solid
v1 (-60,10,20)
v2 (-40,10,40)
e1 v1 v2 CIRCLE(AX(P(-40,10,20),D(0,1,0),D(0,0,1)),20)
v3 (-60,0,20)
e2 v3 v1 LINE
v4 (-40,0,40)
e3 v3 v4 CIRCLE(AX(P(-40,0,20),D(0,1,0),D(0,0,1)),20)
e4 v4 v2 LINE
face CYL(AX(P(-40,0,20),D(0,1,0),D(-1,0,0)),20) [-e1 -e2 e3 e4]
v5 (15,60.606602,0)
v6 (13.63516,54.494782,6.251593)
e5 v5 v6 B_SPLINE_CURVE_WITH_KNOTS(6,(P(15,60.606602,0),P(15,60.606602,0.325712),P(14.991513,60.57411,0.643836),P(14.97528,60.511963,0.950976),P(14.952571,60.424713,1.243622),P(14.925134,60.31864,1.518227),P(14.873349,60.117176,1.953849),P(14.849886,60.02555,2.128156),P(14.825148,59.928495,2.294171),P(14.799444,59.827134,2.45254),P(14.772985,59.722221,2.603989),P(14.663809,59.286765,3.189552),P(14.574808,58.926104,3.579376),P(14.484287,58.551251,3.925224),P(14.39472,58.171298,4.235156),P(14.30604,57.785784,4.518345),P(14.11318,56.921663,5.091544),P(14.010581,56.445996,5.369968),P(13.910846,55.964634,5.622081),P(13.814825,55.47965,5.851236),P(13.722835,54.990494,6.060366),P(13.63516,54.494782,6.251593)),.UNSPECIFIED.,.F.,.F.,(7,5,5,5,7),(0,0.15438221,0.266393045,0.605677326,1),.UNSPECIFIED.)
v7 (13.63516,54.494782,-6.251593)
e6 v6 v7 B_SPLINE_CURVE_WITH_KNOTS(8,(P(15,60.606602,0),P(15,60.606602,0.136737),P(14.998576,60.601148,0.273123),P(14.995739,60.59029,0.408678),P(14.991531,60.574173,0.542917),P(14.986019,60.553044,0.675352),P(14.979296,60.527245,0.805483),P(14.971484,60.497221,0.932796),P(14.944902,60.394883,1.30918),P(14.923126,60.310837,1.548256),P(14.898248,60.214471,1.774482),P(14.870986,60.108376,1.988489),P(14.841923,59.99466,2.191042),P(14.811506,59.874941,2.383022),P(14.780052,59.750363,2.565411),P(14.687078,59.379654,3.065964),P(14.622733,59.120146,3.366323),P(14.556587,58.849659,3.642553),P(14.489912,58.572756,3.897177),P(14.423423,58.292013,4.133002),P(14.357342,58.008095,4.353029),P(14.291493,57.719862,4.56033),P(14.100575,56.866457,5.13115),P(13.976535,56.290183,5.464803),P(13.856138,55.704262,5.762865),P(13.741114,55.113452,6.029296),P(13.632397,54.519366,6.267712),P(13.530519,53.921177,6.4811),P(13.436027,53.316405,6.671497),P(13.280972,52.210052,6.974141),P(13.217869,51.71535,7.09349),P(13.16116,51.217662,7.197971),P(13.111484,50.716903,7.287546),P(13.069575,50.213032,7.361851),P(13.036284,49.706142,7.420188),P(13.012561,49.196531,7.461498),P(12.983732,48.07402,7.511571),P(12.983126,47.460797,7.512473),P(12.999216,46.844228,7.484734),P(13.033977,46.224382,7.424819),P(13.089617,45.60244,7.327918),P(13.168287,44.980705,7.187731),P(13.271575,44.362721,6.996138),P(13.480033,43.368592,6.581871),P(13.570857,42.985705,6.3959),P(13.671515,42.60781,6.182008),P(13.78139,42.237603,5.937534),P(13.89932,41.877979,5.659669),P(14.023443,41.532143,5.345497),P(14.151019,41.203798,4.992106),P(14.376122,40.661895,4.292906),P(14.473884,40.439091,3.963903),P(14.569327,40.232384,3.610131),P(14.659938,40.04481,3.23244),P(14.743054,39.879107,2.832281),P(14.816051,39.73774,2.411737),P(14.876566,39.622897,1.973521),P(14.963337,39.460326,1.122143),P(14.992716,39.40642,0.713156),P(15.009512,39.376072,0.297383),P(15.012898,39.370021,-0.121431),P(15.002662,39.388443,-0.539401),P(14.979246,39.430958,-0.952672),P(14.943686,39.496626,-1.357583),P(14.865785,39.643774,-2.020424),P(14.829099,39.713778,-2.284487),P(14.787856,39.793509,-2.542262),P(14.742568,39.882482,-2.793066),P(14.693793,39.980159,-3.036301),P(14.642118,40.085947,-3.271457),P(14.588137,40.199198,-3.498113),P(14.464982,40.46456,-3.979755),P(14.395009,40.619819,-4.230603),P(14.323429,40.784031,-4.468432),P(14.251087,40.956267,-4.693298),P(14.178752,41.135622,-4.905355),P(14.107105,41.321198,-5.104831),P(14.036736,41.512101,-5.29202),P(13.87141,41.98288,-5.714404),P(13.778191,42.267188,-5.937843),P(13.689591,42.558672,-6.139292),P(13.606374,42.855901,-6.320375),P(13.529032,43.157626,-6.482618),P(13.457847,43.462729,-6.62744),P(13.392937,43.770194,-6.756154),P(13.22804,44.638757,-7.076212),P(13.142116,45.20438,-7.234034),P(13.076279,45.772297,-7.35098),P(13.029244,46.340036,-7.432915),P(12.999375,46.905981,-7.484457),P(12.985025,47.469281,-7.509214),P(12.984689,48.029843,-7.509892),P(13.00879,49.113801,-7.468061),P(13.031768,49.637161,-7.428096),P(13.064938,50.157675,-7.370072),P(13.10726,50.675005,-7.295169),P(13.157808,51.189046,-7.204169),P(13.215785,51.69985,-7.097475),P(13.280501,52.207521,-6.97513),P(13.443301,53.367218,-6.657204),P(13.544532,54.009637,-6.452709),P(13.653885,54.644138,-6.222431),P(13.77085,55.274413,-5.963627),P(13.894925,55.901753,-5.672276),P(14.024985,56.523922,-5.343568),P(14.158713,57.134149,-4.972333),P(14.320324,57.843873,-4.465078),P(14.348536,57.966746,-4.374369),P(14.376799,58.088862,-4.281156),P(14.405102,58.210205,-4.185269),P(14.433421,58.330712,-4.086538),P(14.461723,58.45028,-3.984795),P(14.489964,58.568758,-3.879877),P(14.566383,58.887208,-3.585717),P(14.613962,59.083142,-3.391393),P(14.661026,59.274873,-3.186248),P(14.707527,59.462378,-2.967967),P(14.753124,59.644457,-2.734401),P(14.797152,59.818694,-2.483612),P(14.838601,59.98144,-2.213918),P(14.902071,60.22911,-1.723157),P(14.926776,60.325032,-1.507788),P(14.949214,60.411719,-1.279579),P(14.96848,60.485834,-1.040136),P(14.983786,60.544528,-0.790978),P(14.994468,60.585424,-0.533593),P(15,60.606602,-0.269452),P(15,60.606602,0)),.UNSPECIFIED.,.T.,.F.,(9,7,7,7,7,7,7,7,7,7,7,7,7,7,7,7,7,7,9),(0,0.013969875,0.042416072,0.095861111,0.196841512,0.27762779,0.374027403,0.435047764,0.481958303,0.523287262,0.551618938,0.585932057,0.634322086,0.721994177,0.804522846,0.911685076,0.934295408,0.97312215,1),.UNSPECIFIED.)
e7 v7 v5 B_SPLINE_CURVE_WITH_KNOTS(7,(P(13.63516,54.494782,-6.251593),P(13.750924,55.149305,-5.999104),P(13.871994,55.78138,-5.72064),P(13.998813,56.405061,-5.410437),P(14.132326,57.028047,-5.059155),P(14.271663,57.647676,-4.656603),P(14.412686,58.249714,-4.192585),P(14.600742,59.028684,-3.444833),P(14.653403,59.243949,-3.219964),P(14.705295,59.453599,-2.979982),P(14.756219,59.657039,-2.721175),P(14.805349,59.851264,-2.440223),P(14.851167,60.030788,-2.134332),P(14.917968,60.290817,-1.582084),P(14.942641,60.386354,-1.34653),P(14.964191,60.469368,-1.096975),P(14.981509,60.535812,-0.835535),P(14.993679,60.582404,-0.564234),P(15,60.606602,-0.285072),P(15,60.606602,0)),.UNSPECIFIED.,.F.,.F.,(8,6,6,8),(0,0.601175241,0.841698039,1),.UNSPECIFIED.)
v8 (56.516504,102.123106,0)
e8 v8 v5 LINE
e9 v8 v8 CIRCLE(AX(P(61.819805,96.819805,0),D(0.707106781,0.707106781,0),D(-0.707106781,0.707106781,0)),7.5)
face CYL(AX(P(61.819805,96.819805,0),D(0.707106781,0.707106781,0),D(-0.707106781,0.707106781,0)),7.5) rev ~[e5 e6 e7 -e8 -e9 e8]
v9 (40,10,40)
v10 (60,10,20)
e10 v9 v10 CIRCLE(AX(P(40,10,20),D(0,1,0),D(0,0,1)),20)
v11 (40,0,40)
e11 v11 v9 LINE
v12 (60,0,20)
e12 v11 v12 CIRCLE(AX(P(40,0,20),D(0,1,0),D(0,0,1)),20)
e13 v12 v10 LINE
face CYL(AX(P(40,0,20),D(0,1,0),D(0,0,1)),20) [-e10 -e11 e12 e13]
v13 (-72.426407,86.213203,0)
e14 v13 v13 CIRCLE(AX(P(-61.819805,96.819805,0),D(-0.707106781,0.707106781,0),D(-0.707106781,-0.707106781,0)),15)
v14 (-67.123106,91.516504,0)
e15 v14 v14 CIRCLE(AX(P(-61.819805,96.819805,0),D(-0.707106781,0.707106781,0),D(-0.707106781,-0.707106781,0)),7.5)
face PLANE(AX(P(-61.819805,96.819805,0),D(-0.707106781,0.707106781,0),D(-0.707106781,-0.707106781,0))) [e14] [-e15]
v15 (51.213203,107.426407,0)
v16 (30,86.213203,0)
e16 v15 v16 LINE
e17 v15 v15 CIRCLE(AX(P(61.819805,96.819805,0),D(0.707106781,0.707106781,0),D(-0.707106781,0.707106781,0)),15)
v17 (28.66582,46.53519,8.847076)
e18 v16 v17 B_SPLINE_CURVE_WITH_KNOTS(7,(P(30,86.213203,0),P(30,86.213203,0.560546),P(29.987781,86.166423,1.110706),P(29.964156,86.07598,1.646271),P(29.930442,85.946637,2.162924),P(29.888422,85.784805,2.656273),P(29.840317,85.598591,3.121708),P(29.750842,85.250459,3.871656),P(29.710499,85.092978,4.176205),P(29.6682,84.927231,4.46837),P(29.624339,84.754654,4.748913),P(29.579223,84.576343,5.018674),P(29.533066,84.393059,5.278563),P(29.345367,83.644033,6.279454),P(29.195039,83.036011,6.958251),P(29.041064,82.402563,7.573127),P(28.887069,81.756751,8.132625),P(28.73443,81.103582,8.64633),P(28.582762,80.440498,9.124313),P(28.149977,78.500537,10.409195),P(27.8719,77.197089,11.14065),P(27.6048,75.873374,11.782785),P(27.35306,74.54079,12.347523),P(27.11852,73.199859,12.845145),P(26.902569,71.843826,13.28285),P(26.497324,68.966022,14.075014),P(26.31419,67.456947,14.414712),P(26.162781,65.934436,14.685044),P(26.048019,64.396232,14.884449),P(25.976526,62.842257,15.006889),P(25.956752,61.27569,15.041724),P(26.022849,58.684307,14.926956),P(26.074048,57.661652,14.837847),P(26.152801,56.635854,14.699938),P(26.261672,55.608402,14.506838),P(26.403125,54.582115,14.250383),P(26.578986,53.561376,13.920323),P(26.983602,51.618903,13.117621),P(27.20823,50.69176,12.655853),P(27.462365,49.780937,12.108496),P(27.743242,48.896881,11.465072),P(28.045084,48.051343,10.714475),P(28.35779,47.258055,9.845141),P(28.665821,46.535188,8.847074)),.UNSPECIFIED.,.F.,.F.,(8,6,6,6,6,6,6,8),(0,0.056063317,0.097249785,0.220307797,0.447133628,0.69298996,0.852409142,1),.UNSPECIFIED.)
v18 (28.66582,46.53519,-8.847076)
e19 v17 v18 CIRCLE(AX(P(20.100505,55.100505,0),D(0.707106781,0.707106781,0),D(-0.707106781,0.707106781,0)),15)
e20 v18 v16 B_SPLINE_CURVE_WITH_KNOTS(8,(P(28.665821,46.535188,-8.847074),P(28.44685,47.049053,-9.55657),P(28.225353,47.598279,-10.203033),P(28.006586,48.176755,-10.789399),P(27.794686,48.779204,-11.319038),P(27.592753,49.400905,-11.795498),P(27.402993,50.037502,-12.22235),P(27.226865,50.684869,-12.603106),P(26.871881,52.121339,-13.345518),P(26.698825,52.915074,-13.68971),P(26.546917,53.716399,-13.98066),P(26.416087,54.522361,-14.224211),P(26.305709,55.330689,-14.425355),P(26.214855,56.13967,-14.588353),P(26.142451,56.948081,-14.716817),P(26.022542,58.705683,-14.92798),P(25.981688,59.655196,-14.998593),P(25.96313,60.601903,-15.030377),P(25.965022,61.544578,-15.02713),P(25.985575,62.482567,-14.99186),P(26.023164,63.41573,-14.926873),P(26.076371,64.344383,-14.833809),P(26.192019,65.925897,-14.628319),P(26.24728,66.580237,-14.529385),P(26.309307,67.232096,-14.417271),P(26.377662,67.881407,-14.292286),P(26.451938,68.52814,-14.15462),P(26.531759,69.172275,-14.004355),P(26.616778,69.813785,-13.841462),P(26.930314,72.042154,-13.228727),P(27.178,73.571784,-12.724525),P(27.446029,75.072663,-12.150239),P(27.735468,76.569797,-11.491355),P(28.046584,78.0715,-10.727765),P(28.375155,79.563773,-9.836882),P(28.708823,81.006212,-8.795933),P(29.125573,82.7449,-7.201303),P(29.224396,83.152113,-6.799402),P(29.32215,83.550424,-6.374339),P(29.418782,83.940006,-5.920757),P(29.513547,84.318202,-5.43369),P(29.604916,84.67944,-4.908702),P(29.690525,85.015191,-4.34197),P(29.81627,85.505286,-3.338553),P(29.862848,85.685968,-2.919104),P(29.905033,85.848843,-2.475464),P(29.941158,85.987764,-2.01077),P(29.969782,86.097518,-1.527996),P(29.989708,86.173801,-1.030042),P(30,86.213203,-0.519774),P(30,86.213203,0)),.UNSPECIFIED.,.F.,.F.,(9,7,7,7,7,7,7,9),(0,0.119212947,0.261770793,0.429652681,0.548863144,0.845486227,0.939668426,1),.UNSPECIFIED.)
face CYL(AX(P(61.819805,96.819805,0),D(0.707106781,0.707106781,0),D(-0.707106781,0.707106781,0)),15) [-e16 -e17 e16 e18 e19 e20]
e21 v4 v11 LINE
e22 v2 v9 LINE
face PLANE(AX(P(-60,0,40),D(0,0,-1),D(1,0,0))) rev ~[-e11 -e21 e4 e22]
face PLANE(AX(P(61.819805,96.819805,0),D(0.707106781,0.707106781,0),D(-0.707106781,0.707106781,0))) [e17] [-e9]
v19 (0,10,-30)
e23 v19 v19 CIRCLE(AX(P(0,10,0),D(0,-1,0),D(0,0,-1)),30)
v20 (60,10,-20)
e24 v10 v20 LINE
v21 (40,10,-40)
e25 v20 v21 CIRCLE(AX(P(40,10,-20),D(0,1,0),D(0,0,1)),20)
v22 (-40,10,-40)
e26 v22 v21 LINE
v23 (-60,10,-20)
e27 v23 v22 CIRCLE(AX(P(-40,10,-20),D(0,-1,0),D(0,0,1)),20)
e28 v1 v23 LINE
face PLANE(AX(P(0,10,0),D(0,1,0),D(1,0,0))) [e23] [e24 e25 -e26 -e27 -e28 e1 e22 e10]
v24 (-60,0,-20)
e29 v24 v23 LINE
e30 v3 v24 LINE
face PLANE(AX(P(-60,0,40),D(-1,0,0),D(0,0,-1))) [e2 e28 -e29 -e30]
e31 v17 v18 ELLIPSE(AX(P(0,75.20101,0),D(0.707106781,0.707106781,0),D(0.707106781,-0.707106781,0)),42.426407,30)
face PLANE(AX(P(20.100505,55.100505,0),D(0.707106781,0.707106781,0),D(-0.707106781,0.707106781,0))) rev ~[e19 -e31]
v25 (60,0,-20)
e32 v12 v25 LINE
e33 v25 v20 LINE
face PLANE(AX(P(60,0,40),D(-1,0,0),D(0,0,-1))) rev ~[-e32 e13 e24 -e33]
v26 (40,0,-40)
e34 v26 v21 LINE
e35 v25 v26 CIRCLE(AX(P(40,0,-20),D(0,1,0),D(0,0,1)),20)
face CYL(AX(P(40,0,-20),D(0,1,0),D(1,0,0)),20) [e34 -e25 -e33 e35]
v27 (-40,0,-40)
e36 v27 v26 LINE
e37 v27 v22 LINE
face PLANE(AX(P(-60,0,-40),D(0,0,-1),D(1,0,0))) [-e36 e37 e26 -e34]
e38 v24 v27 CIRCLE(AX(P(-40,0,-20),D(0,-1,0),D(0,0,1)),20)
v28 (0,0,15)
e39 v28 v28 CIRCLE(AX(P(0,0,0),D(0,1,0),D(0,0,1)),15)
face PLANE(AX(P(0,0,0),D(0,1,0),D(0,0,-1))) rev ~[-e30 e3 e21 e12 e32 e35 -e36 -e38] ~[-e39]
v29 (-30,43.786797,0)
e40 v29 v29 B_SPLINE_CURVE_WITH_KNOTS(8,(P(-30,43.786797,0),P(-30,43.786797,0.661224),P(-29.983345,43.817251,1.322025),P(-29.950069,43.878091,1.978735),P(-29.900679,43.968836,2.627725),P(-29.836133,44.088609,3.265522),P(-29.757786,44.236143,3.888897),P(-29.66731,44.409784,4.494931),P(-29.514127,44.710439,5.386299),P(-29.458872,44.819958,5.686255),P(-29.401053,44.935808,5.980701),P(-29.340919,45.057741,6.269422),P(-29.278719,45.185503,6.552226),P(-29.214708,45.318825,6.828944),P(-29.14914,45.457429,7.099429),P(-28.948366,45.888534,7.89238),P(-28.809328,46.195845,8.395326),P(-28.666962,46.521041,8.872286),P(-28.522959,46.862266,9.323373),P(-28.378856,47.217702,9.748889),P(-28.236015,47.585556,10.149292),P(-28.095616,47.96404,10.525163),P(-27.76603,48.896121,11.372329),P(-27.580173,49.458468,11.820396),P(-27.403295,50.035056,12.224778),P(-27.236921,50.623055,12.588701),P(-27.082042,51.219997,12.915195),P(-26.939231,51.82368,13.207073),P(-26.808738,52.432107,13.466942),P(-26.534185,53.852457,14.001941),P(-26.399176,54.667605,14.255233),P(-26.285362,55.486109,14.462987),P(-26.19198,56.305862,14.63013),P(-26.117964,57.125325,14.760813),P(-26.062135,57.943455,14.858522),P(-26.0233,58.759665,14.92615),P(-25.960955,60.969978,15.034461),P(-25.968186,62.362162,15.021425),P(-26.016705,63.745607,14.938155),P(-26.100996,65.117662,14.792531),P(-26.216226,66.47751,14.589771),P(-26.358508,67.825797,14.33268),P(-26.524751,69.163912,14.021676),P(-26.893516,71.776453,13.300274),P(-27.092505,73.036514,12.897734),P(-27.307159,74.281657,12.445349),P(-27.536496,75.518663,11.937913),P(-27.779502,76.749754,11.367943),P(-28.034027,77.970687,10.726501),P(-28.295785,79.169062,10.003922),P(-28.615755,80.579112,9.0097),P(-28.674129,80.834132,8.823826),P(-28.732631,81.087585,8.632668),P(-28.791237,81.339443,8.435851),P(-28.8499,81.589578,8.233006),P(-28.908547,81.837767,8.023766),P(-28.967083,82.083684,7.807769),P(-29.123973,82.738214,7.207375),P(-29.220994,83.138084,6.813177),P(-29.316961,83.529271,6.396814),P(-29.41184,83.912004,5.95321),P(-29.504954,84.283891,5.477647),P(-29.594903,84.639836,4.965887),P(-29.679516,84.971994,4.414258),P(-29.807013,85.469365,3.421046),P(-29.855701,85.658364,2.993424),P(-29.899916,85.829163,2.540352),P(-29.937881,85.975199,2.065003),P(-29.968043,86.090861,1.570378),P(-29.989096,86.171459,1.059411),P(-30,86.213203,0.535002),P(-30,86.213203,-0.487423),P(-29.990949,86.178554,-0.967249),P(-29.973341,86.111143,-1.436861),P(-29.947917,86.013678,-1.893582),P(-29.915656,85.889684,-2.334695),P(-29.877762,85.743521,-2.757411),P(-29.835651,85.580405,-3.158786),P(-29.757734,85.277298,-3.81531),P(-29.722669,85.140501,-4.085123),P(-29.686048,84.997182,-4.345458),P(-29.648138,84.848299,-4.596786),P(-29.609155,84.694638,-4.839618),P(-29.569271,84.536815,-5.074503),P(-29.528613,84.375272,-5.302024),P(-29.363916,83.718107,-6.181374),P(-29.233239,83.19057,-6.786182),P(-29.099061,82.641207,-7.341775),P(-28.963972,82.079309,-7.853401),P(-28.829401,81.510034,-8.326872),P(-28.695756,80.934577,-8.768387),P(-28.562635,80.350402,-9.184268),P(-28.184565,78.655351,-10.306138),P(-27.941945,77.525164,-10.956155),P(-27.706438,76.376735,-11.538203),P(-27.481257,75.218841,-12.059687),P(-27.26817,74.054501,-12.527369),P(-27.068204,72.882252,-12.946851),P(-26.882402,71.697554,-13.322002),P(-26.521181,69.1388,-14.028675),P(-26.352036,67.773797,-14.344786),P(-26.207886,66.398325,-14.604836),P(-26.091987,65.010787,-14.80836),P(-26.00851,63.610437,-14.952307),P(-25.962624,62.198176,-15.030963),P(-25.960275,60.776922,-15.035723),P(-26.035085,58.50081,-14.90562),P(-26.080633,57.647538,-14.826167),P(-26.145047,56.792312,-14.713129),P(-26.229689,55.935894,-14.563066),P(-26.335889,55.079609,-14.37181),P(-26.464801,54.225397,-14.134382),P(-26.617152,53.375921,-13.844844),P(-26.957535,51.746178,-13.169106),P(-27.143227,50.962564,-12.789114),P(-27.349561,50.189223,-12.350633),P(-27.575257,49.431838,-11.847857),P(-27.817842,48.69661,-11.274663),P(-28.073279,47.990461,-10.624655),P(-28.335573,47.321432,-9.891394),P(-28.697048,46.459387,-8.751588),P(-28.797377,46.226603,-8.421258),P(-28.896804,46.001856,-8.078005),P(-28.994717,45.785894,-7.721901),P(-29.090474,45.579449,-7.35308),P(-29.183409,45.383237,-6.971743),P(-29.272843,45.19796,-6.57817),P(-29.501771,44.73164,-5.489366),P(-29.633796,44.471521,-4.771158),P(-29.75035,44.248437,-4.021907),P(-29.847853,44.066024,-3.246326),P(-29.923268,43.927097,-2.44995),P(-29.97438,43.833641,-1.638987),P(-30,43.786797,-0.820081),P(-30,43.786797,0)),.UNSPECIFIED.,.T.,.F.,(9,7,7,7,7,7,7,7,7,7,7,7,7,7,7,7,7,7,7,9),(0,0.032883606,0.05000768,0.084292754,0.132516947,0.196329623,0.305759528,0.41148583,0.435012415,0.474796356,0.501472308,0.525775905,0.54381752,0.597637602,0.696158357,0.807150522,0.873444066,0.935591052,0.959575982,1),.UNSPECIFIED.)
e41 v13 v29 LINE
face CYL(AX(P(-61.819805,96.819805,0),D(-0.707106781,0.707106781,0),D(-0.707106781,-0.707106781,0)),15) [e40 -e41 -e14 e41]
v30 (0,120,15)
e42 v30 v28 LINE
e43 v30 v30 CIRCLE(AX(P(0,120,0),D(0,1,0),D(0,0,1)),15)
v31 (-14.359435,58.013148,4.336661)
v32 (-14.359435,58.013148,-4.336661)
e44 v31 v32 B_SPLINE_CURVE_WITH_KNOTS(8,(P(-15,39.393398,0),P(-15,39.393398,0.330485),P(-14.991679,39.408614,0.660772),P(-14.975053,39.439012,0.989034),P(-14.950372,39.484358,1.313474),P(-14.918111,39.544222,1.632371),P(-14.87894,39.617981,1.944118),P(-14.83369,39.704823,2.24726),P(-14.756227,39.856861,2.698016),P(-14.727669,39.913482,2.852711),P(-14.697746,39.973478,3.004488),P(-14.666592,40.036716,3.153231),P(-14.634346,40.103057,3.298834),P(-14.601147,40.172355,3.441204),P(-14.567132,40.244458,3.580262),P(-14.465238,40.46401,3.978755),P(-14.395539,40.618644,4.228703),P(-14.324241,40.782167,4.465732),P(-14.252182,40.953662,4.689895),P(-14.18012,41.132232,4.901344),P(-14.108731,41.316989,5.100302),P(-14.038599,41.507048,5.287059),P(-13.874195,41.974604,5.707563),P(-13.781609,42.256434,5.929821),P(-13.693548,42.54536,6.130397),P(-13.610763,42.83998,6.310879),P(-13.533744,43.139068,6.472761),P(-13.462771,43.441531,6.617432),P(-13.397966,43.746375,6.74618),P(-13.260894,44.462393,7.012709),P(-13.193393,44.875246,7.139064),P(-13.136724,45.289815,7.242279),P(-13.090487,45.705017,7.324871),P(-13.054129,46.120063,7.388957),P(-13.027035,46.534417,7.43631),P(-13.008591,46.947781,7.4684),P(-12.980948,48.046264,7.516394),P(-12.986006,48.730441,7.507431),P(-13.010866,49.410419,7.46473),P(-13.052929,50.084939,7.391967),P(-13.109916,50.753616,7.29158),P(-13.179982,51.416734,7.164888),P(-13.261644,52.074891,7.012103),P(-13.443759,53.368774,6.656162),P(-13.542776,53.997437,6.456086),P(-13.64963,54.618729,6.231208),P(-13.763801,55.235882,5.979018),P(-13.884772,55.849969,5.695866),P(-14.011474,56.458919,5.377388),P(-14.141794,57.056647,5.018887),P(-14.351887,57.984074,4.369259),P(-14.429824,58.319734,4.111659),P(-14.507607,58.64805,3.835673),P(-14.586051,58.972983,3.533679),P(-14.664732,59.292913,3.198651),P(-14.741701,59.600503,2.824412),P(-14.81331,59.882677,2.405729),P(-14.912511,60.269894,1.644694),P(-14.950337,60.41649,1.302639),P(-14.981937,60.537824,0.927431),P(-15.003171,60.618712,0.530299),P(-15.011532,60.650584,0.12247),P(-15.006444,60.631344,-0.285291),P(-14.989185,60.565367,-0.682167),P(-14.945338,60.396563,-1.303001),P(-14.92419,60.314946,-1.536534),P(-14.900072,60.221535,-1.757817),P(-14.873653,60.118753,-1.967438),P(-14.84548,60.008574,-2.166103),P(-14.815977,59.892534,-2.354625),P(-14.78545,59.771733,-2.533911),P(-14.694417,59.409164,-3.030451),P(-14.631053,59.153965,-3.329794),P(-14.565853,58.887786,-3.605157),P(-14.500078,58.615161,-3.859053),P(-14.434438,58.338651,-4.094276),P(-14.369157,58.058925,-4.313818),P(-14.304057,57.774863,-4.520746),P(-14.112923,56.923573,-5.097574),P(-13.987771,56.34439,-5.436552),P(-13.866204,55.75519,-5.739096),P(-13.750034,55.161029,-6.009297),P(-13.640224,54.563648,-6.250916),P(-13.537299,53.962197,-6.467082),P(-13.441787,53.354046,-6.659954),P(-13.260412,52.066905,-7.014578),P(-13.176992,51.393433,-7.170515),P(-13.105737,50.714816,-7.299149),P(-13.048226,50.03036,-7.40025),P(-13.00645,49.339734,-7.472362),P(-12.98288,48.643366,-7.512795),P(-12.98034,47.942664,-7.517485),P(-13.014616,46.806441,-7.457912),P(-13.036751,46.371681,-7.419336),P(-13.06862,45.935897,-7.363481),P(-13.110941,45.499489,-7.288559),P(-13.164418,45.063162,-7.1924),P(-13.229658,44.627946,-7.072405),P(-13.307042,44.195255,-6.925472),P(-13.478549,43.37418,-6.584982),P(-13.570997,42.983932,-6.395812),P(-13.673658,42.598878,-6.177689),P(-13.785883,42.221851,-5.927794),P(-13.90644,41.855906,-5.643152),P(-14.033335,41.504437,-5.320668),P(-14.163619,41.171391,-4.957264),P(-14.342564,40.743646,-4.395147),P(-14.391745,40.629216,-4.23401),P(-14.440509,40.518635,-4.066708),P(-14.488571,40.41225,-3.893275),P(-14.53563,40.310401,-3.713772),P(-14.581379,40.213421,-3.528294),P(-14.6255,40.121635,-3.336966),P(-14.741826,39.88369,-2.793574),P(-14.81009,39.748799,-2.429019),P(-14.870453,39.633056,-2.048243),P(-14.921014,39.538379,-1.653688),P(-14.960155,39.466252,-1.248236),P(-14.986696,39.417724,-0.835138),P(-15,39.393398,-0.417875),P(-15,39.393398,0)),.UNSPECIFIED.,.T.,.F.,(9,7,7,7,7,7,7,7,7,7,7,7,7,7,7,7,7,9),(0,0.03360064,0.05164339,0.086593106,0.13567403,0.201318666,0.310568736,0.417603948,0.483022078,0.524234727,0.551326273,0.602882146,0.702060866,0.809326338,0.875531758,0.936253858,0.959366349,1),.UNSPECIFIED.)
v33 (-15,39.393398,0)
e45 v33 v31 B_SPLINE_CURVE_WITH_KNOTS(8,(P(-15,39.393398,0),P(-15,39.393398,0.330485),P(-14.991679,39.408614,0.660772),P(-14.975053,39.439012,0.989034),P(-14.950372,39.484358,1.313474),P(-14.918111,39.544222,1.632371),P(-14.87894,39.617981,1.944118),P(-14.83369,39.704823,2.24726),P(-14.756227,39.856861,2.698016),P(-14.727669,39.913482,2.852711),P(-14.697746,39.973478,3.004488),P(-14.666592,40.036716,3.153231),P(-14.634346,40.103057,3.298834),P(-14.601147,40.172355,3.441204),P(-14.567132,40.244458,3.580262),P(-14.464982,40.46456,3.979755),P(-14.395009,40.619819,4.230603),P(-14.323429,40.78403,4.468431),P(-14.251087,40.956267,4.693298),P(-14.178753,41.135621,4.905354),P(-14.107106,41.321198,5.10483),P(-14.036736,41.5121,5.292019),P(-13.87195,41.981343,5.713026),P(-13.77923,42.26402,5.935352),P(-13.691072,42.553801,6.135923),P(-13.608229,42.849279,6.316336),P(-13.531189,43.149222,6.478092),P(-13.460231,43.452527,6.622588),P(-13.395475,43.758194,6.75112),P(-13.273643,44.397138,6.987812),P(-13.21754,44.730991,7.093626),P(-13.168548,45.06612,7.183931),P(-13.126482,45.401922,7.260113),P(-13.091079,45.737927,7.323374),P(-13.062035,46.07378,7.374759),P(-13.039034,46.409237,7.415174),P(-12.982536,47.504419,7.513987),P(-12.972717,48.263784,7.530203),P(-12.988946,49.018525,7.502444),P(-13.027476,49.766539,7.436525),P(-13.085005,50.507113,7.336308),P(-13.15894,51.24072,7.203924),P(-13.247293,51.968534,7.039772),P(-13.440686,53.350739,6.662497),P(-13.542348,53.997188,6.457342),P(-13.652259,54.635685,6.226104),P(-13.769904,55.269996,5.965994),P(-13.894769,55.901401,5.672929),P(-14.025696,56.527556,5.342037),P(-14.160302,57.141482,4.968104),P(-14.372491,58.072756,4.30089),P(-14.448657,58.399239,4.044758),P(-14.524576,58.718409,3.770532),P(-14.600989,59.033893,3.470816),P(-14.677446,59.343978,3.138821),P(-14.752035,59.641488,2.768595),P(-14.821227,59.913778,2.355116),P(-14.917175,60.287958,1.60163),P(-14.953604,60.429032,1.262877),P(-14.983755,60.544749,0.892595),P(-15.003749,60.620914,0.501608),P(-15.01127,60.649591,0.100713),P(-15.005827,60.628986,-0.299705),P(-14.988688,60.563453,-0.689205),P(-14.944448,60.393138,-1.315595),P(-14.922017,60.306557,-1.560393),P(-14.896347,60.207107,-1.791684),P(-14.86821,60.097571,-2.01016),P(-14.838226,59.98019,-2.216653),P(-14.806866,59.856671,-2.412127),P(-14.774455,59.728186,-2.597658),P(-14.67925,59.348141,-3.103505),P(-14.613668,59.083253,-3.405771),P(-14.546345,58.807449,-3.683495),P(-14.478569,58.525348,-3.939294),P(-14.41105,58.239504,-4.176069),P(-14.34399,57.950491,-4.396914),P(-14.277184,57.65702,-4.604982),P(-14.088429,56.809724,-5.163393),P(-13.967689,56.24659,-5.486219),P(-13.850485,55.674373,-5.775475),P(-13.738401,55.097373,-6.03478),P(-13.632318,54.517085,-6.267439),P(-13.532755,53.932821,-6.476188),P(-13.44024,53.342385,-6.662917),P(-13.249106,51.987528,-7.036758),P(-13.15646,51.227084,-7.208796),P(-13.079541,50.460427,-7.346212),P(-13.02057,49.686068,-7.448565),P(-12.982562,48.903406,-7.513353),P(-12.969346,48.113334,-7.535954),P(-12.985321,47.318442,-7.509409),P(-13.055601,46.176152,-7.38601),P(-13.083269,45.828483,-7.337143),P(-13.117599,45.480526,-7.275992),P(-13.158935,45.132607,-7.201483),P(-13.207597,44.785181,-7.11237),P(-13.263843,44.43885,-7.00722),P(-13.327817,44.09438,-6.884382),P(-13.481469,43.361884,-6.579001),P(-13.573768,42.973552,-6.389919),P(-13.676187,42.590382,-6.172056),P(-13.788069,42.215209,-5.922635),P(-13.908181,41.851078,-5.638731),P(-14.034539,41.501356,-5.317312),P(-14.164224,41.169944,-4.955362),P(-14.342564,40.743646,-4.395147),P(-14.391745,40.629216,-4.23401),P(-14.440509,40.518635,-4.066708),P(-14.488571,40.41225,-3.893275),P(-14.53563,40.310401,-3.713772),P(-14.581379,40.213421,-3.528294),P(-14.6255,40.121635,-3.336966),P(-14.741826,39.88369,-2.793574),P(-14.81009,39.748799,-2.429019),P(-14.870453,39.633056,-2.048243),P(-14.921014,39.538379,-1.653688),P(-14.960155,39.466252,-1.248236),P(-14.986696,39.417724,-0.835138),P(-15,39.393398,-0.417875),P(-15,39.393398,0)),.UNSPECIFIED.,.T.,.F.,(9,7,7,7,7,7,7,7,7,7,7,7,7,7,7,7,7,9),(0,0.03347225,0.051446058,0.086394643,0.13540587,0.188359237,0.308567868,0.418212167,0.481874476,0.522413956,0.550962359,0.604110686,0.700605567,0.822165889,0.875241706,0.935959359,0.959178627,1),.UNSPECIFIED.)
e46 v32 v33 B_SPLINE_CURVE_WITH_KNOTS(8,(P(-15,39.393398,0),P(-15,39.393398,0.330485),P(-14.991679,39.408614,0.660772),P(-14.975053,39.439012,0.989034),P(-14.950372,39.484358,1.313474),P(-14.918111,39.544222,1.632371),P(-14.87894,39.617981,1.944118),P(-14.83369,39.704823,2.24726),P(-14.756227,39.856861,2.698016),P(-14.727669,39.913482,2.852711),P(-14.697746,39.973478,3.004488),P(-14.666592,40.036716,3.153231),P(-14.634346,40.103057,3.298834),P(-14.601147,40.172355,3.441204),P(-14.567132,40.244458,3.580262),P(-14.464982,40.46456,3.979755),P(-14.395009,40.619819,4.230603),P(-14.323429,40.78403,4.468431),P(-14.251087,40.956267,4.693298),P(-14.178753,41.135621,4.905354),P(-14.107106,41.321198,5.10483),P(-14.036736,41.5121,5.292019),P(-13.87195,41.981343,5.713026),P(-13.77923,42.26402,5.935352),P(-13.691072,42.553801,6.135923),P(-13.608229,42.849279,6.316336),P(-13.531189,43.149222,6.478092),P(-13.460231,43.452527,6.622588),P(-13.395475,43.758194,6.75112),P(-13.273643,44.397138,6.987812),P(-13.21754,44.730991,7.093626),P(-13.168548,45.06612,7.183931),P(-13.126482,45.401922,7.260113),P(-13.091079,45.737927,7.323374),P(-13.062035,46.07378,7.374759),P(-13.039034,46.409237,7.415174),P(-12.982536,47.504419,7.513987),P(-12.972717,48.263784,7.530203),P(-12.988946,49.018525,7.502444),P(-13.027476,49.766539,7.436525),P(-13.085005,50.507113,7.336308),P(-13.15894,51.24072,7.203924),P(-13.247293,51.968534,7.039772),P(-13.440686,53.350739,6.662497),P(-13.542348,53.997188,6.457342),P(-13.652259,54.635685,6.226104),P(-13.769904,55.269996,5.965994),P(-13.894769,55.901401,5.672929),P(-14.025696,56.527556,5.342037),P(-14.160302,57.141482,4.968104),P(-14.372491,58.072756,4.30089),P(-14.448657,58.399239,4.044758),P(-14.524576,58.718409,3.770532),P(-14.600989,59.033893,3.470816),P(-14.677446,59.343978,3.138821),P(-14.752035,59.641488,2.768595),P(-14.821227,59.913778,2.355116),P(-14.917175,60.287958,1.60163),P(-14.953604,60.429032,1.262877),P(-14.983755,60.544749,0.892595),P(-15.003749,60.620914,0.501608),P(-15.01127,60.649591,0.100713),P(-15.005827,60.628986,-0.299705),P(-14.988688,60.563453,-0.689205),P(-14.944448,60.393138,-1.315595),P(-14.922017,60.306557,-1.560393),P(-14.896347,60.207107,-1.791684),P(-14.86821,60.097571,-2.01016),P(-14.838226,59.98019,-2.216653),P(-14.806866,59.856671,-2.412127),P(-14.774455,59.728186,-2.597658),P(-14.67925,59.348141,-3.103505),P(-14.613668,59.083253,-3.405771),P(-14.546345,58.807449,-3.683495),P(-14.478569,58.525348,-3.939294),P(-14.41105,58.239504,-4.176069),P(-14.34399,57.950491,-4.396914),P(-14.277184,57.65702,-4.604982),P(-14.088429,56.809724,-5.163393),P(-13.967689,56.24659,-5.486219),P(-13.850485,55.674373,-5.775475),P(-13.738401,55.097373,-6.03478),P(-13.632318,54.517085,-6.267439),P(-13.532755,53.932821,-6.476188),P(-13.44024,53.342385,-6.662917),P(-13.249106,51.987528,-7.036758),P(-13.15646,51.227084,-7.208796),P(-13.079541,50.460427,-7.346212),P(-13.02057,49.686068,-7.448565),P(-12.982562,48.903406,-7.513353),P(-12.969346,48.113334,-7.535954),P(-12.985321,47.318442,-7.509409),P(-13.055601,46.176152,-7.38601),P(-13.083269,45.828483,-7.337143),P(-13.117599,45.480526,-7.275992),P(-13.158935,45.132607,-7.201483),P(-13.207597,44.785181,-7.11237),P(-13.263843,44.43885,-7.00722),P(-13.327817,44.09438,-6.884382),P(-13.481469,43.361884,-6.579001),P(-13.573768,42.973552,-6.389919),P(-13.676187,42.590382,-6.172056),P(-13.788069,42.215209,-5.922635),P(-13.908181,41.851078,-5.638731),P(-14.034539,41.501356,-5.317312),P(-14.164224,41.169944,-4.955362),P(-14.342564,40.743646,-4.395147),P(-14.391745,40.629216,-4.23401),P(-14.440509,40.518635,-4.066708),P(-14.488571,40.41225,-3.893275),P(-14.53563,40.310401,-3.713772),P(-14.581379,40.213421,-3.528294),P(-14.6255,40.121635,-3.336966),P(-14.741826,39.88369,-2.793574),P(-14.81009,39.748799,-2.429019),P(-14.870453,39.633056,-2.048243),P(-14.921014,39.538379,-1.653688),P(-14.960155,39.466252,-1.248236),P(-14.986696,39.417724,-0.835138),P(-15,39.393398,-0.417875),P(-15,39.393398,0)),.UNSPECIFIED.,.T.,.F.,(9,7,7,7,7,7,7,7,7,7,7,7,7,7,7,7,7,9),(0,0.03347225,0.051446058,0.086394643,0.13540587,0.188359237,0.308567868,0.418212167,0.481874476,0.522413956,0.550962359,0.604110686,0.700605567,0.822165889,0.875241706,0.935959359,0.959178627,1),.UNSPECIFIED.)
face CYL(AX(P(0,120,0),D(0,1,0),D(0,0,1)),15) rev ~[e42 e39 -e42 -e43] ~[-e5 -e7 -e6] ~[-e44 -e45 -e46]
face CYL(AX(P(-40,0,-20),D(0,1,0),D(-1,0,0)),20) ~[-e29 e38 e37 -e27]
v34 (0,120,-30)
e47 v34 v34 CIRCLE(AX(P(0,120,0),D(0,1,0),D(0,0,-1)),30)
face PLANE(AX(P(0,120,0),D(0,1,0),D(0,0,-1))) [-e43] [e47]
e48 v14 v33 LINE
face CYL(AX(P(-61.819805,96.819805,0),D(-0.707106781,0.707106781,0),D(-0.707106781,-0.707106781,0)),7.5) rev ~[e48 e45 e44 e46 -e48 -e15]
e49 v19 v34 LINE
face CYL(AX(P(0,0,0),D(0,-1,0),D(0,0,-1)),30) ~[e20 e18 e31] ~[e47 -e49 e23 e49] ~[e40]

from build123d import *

# Parameters (mm, degrees)
CROQUIS1_W              = 120
CROQUIS1_H              = 80
SALIENTE_EXTRUIR1_DEPTH = 10
REDONDEO1_R             = 20
CROQUIS2_R              = 30
SALIENTE_EXTRUIR3_DEPTH = 120
CROQUIS6_R              = 15
SALIENTE_EXTRUIR4_DEPTH = 59
CROQUIS7_R              = 7.5
CORTAR_EXTRUIR1_DEPTH   = 64
CROQUIS8_R              = 15
CORTAR_EXTRUIR2_DEPTH   = 150
CROQUIS9_R              = 7.5
CORTAR_EXTRUIR3_DEPTH   = 83
CROQUIS10_R             = 15
SALIENTE_EXTRUIR5_DEPTH = 61
CROQUIS11_R             = 7.5
CORTAR_EXTRUIR4_DEPTH   = 78
CROQUIS12_R             = 15
CORTAR_EXTRUIR5_DEPTH   = 134


with BuildPart() as part:
    # Croquis1 → Saliente-Extruir1 (new body)
    with BuildSketch(Plane(origin=(0, 0, 0), x_dir=(1, 0, 0), z_dir=(0, 1, 0))):
        Rectangle(CROQUIS1_W, CROQUIS1_H)
    extrude(amount=SALIENTE_EXTRUIR1_DEPTH)

    # Redondeo1
    redondeo1_edges = [part.edges().sort_by_distance(p)[0] for p in [
        (60, 5, 40),
        (-60, 5, 40),
        (-60, 5, -40),
        (60, 5, -40),
    ]]
    fillet(redondeo1_edges, radius=REDONDEO1_R)

    # Croquis2 → Saliente-Extruir3 (add)
    with BuildSketch(Plane(origin=(0, 0, 0), x_dir=(1, 0, 0), z_dir=(0, 1, 0))):
        with Locations(Location((0, 0, 0), (0, 0, 90))):
            Circle(CROQUIS2_R)
    extrude(amount=SALIENTE_EXTRUIR3_DEPTH)

    # Croquis6 → Saliente-Extruir4 (add)
    with BuildSketch(Plane(origin=(79.319805153, 79.319805153, 0), x_dir=(0, 0, -1), z_dir=(0.7071067811865487, 0.7071067811865464, 0))):
        with Locations(Location((0, 24.748737342, 0), (0, 0, 90))):
            Circle(CROQUIS6_R)
    extrude(amount=-SALIENTE_EXTRUIR4_DEPTH)

    # Croquis7 → Cortar-Extruir1 (cut)
    with BuildSketch(Plane(origin=(79.319805153, 79.319805153, 0), x_dir=(0, 0, -1), z_dir=(0.7071067811865487, 0.7071067811865464, 0))):
        with Locations(Location((0, 24.748737342, 0), (0, 0, 90))):
            Circle(CROQUIS7_R)
    extrude(amount=-CORTAR_EXTRUIR1_DEPTH, mode=Mode.SUBTRACT)

    # Croquis8 → Cortar-Extruir2 (cut)
    with BuildSketch(Plane(origin=(0, 120, 0), x_dir=(1, 0, 0), z_dir=(0, 1, 0))):
        with Locations(Location((0, 0, 0), (0, 0, 270))):
            Circle(CROQUIS8_R)
    extrude(amount=-CORTAR_EXTRUIR2_DEPTH, mode=Mode.SUBTRACT)

    # Croquis9 → Cortar-Extruir3 (cut)
    with BuildSketch(Plane(origin=(79.319805153, 79.319805153, 0), x_dir=(0, 0, -1), z_dir=(0.7071067811865487, 0.7071067811865464, 0))):
        with Locations(Location((0, 24.748737342, 0), (0, 0, 90))):
            Circle(CROQUIS9_R)
    extrude(amount=-CORTAR_EXTRUIR3_DEPTH, mode=Mode.SUBTRACT)

    # Croquis10 → Saliente-Extruir5 (add)
    with BuildSketch(Plane(origin=(-79.319805153, 79.319805153, 0), x_dir=(0.7071067811865477, 0.7071067811865475, 0), z_dir=(-0.7071067811865475, 0.7071067811865477, 0))):
        with Locations(Location((24.748737342, 0, 0), (0, 0, 180))):
            Circle(CROQUIS10_R)
    extrude(amount=-SALIENTE_EXTRUIR5_DEPTH)

    # Croquis11 → Cortar-Extruir4 (cut)
    with BuildSketch(Plane(origin=(-79.319805153, 79.319805153, 0), x_dir=(0.7071067811865477, 0.7071067811865475, 0), z_dir=(-0.7071067811865475, 0.7071067811865477, 0))):
        with Locations(Location((24.748737342, 0, 0), (0, 0, 180))):
            Circle(CROQUIS11_R)
    extrude(amount=-CORTAR_EXTRUIR4_DEPTH, mode=Mode.SUBTRACT)

    # Croquis12 → Cortar-Extruir5 (cut)
    with BuildSketch(Plane(origin=(0, 120, 0), x_dir=(1, 0, 0), z_dir=(0, 1, 0))):
        with Locations(Location((0, 0, 0), (0, 0, 270))):
            Circle(CROQUIS12_R)
    extrude(amount=-CORTAR_EXTRUIR5_DEPTH, mode=Mode.SUBTRACT)


solid = part.part
